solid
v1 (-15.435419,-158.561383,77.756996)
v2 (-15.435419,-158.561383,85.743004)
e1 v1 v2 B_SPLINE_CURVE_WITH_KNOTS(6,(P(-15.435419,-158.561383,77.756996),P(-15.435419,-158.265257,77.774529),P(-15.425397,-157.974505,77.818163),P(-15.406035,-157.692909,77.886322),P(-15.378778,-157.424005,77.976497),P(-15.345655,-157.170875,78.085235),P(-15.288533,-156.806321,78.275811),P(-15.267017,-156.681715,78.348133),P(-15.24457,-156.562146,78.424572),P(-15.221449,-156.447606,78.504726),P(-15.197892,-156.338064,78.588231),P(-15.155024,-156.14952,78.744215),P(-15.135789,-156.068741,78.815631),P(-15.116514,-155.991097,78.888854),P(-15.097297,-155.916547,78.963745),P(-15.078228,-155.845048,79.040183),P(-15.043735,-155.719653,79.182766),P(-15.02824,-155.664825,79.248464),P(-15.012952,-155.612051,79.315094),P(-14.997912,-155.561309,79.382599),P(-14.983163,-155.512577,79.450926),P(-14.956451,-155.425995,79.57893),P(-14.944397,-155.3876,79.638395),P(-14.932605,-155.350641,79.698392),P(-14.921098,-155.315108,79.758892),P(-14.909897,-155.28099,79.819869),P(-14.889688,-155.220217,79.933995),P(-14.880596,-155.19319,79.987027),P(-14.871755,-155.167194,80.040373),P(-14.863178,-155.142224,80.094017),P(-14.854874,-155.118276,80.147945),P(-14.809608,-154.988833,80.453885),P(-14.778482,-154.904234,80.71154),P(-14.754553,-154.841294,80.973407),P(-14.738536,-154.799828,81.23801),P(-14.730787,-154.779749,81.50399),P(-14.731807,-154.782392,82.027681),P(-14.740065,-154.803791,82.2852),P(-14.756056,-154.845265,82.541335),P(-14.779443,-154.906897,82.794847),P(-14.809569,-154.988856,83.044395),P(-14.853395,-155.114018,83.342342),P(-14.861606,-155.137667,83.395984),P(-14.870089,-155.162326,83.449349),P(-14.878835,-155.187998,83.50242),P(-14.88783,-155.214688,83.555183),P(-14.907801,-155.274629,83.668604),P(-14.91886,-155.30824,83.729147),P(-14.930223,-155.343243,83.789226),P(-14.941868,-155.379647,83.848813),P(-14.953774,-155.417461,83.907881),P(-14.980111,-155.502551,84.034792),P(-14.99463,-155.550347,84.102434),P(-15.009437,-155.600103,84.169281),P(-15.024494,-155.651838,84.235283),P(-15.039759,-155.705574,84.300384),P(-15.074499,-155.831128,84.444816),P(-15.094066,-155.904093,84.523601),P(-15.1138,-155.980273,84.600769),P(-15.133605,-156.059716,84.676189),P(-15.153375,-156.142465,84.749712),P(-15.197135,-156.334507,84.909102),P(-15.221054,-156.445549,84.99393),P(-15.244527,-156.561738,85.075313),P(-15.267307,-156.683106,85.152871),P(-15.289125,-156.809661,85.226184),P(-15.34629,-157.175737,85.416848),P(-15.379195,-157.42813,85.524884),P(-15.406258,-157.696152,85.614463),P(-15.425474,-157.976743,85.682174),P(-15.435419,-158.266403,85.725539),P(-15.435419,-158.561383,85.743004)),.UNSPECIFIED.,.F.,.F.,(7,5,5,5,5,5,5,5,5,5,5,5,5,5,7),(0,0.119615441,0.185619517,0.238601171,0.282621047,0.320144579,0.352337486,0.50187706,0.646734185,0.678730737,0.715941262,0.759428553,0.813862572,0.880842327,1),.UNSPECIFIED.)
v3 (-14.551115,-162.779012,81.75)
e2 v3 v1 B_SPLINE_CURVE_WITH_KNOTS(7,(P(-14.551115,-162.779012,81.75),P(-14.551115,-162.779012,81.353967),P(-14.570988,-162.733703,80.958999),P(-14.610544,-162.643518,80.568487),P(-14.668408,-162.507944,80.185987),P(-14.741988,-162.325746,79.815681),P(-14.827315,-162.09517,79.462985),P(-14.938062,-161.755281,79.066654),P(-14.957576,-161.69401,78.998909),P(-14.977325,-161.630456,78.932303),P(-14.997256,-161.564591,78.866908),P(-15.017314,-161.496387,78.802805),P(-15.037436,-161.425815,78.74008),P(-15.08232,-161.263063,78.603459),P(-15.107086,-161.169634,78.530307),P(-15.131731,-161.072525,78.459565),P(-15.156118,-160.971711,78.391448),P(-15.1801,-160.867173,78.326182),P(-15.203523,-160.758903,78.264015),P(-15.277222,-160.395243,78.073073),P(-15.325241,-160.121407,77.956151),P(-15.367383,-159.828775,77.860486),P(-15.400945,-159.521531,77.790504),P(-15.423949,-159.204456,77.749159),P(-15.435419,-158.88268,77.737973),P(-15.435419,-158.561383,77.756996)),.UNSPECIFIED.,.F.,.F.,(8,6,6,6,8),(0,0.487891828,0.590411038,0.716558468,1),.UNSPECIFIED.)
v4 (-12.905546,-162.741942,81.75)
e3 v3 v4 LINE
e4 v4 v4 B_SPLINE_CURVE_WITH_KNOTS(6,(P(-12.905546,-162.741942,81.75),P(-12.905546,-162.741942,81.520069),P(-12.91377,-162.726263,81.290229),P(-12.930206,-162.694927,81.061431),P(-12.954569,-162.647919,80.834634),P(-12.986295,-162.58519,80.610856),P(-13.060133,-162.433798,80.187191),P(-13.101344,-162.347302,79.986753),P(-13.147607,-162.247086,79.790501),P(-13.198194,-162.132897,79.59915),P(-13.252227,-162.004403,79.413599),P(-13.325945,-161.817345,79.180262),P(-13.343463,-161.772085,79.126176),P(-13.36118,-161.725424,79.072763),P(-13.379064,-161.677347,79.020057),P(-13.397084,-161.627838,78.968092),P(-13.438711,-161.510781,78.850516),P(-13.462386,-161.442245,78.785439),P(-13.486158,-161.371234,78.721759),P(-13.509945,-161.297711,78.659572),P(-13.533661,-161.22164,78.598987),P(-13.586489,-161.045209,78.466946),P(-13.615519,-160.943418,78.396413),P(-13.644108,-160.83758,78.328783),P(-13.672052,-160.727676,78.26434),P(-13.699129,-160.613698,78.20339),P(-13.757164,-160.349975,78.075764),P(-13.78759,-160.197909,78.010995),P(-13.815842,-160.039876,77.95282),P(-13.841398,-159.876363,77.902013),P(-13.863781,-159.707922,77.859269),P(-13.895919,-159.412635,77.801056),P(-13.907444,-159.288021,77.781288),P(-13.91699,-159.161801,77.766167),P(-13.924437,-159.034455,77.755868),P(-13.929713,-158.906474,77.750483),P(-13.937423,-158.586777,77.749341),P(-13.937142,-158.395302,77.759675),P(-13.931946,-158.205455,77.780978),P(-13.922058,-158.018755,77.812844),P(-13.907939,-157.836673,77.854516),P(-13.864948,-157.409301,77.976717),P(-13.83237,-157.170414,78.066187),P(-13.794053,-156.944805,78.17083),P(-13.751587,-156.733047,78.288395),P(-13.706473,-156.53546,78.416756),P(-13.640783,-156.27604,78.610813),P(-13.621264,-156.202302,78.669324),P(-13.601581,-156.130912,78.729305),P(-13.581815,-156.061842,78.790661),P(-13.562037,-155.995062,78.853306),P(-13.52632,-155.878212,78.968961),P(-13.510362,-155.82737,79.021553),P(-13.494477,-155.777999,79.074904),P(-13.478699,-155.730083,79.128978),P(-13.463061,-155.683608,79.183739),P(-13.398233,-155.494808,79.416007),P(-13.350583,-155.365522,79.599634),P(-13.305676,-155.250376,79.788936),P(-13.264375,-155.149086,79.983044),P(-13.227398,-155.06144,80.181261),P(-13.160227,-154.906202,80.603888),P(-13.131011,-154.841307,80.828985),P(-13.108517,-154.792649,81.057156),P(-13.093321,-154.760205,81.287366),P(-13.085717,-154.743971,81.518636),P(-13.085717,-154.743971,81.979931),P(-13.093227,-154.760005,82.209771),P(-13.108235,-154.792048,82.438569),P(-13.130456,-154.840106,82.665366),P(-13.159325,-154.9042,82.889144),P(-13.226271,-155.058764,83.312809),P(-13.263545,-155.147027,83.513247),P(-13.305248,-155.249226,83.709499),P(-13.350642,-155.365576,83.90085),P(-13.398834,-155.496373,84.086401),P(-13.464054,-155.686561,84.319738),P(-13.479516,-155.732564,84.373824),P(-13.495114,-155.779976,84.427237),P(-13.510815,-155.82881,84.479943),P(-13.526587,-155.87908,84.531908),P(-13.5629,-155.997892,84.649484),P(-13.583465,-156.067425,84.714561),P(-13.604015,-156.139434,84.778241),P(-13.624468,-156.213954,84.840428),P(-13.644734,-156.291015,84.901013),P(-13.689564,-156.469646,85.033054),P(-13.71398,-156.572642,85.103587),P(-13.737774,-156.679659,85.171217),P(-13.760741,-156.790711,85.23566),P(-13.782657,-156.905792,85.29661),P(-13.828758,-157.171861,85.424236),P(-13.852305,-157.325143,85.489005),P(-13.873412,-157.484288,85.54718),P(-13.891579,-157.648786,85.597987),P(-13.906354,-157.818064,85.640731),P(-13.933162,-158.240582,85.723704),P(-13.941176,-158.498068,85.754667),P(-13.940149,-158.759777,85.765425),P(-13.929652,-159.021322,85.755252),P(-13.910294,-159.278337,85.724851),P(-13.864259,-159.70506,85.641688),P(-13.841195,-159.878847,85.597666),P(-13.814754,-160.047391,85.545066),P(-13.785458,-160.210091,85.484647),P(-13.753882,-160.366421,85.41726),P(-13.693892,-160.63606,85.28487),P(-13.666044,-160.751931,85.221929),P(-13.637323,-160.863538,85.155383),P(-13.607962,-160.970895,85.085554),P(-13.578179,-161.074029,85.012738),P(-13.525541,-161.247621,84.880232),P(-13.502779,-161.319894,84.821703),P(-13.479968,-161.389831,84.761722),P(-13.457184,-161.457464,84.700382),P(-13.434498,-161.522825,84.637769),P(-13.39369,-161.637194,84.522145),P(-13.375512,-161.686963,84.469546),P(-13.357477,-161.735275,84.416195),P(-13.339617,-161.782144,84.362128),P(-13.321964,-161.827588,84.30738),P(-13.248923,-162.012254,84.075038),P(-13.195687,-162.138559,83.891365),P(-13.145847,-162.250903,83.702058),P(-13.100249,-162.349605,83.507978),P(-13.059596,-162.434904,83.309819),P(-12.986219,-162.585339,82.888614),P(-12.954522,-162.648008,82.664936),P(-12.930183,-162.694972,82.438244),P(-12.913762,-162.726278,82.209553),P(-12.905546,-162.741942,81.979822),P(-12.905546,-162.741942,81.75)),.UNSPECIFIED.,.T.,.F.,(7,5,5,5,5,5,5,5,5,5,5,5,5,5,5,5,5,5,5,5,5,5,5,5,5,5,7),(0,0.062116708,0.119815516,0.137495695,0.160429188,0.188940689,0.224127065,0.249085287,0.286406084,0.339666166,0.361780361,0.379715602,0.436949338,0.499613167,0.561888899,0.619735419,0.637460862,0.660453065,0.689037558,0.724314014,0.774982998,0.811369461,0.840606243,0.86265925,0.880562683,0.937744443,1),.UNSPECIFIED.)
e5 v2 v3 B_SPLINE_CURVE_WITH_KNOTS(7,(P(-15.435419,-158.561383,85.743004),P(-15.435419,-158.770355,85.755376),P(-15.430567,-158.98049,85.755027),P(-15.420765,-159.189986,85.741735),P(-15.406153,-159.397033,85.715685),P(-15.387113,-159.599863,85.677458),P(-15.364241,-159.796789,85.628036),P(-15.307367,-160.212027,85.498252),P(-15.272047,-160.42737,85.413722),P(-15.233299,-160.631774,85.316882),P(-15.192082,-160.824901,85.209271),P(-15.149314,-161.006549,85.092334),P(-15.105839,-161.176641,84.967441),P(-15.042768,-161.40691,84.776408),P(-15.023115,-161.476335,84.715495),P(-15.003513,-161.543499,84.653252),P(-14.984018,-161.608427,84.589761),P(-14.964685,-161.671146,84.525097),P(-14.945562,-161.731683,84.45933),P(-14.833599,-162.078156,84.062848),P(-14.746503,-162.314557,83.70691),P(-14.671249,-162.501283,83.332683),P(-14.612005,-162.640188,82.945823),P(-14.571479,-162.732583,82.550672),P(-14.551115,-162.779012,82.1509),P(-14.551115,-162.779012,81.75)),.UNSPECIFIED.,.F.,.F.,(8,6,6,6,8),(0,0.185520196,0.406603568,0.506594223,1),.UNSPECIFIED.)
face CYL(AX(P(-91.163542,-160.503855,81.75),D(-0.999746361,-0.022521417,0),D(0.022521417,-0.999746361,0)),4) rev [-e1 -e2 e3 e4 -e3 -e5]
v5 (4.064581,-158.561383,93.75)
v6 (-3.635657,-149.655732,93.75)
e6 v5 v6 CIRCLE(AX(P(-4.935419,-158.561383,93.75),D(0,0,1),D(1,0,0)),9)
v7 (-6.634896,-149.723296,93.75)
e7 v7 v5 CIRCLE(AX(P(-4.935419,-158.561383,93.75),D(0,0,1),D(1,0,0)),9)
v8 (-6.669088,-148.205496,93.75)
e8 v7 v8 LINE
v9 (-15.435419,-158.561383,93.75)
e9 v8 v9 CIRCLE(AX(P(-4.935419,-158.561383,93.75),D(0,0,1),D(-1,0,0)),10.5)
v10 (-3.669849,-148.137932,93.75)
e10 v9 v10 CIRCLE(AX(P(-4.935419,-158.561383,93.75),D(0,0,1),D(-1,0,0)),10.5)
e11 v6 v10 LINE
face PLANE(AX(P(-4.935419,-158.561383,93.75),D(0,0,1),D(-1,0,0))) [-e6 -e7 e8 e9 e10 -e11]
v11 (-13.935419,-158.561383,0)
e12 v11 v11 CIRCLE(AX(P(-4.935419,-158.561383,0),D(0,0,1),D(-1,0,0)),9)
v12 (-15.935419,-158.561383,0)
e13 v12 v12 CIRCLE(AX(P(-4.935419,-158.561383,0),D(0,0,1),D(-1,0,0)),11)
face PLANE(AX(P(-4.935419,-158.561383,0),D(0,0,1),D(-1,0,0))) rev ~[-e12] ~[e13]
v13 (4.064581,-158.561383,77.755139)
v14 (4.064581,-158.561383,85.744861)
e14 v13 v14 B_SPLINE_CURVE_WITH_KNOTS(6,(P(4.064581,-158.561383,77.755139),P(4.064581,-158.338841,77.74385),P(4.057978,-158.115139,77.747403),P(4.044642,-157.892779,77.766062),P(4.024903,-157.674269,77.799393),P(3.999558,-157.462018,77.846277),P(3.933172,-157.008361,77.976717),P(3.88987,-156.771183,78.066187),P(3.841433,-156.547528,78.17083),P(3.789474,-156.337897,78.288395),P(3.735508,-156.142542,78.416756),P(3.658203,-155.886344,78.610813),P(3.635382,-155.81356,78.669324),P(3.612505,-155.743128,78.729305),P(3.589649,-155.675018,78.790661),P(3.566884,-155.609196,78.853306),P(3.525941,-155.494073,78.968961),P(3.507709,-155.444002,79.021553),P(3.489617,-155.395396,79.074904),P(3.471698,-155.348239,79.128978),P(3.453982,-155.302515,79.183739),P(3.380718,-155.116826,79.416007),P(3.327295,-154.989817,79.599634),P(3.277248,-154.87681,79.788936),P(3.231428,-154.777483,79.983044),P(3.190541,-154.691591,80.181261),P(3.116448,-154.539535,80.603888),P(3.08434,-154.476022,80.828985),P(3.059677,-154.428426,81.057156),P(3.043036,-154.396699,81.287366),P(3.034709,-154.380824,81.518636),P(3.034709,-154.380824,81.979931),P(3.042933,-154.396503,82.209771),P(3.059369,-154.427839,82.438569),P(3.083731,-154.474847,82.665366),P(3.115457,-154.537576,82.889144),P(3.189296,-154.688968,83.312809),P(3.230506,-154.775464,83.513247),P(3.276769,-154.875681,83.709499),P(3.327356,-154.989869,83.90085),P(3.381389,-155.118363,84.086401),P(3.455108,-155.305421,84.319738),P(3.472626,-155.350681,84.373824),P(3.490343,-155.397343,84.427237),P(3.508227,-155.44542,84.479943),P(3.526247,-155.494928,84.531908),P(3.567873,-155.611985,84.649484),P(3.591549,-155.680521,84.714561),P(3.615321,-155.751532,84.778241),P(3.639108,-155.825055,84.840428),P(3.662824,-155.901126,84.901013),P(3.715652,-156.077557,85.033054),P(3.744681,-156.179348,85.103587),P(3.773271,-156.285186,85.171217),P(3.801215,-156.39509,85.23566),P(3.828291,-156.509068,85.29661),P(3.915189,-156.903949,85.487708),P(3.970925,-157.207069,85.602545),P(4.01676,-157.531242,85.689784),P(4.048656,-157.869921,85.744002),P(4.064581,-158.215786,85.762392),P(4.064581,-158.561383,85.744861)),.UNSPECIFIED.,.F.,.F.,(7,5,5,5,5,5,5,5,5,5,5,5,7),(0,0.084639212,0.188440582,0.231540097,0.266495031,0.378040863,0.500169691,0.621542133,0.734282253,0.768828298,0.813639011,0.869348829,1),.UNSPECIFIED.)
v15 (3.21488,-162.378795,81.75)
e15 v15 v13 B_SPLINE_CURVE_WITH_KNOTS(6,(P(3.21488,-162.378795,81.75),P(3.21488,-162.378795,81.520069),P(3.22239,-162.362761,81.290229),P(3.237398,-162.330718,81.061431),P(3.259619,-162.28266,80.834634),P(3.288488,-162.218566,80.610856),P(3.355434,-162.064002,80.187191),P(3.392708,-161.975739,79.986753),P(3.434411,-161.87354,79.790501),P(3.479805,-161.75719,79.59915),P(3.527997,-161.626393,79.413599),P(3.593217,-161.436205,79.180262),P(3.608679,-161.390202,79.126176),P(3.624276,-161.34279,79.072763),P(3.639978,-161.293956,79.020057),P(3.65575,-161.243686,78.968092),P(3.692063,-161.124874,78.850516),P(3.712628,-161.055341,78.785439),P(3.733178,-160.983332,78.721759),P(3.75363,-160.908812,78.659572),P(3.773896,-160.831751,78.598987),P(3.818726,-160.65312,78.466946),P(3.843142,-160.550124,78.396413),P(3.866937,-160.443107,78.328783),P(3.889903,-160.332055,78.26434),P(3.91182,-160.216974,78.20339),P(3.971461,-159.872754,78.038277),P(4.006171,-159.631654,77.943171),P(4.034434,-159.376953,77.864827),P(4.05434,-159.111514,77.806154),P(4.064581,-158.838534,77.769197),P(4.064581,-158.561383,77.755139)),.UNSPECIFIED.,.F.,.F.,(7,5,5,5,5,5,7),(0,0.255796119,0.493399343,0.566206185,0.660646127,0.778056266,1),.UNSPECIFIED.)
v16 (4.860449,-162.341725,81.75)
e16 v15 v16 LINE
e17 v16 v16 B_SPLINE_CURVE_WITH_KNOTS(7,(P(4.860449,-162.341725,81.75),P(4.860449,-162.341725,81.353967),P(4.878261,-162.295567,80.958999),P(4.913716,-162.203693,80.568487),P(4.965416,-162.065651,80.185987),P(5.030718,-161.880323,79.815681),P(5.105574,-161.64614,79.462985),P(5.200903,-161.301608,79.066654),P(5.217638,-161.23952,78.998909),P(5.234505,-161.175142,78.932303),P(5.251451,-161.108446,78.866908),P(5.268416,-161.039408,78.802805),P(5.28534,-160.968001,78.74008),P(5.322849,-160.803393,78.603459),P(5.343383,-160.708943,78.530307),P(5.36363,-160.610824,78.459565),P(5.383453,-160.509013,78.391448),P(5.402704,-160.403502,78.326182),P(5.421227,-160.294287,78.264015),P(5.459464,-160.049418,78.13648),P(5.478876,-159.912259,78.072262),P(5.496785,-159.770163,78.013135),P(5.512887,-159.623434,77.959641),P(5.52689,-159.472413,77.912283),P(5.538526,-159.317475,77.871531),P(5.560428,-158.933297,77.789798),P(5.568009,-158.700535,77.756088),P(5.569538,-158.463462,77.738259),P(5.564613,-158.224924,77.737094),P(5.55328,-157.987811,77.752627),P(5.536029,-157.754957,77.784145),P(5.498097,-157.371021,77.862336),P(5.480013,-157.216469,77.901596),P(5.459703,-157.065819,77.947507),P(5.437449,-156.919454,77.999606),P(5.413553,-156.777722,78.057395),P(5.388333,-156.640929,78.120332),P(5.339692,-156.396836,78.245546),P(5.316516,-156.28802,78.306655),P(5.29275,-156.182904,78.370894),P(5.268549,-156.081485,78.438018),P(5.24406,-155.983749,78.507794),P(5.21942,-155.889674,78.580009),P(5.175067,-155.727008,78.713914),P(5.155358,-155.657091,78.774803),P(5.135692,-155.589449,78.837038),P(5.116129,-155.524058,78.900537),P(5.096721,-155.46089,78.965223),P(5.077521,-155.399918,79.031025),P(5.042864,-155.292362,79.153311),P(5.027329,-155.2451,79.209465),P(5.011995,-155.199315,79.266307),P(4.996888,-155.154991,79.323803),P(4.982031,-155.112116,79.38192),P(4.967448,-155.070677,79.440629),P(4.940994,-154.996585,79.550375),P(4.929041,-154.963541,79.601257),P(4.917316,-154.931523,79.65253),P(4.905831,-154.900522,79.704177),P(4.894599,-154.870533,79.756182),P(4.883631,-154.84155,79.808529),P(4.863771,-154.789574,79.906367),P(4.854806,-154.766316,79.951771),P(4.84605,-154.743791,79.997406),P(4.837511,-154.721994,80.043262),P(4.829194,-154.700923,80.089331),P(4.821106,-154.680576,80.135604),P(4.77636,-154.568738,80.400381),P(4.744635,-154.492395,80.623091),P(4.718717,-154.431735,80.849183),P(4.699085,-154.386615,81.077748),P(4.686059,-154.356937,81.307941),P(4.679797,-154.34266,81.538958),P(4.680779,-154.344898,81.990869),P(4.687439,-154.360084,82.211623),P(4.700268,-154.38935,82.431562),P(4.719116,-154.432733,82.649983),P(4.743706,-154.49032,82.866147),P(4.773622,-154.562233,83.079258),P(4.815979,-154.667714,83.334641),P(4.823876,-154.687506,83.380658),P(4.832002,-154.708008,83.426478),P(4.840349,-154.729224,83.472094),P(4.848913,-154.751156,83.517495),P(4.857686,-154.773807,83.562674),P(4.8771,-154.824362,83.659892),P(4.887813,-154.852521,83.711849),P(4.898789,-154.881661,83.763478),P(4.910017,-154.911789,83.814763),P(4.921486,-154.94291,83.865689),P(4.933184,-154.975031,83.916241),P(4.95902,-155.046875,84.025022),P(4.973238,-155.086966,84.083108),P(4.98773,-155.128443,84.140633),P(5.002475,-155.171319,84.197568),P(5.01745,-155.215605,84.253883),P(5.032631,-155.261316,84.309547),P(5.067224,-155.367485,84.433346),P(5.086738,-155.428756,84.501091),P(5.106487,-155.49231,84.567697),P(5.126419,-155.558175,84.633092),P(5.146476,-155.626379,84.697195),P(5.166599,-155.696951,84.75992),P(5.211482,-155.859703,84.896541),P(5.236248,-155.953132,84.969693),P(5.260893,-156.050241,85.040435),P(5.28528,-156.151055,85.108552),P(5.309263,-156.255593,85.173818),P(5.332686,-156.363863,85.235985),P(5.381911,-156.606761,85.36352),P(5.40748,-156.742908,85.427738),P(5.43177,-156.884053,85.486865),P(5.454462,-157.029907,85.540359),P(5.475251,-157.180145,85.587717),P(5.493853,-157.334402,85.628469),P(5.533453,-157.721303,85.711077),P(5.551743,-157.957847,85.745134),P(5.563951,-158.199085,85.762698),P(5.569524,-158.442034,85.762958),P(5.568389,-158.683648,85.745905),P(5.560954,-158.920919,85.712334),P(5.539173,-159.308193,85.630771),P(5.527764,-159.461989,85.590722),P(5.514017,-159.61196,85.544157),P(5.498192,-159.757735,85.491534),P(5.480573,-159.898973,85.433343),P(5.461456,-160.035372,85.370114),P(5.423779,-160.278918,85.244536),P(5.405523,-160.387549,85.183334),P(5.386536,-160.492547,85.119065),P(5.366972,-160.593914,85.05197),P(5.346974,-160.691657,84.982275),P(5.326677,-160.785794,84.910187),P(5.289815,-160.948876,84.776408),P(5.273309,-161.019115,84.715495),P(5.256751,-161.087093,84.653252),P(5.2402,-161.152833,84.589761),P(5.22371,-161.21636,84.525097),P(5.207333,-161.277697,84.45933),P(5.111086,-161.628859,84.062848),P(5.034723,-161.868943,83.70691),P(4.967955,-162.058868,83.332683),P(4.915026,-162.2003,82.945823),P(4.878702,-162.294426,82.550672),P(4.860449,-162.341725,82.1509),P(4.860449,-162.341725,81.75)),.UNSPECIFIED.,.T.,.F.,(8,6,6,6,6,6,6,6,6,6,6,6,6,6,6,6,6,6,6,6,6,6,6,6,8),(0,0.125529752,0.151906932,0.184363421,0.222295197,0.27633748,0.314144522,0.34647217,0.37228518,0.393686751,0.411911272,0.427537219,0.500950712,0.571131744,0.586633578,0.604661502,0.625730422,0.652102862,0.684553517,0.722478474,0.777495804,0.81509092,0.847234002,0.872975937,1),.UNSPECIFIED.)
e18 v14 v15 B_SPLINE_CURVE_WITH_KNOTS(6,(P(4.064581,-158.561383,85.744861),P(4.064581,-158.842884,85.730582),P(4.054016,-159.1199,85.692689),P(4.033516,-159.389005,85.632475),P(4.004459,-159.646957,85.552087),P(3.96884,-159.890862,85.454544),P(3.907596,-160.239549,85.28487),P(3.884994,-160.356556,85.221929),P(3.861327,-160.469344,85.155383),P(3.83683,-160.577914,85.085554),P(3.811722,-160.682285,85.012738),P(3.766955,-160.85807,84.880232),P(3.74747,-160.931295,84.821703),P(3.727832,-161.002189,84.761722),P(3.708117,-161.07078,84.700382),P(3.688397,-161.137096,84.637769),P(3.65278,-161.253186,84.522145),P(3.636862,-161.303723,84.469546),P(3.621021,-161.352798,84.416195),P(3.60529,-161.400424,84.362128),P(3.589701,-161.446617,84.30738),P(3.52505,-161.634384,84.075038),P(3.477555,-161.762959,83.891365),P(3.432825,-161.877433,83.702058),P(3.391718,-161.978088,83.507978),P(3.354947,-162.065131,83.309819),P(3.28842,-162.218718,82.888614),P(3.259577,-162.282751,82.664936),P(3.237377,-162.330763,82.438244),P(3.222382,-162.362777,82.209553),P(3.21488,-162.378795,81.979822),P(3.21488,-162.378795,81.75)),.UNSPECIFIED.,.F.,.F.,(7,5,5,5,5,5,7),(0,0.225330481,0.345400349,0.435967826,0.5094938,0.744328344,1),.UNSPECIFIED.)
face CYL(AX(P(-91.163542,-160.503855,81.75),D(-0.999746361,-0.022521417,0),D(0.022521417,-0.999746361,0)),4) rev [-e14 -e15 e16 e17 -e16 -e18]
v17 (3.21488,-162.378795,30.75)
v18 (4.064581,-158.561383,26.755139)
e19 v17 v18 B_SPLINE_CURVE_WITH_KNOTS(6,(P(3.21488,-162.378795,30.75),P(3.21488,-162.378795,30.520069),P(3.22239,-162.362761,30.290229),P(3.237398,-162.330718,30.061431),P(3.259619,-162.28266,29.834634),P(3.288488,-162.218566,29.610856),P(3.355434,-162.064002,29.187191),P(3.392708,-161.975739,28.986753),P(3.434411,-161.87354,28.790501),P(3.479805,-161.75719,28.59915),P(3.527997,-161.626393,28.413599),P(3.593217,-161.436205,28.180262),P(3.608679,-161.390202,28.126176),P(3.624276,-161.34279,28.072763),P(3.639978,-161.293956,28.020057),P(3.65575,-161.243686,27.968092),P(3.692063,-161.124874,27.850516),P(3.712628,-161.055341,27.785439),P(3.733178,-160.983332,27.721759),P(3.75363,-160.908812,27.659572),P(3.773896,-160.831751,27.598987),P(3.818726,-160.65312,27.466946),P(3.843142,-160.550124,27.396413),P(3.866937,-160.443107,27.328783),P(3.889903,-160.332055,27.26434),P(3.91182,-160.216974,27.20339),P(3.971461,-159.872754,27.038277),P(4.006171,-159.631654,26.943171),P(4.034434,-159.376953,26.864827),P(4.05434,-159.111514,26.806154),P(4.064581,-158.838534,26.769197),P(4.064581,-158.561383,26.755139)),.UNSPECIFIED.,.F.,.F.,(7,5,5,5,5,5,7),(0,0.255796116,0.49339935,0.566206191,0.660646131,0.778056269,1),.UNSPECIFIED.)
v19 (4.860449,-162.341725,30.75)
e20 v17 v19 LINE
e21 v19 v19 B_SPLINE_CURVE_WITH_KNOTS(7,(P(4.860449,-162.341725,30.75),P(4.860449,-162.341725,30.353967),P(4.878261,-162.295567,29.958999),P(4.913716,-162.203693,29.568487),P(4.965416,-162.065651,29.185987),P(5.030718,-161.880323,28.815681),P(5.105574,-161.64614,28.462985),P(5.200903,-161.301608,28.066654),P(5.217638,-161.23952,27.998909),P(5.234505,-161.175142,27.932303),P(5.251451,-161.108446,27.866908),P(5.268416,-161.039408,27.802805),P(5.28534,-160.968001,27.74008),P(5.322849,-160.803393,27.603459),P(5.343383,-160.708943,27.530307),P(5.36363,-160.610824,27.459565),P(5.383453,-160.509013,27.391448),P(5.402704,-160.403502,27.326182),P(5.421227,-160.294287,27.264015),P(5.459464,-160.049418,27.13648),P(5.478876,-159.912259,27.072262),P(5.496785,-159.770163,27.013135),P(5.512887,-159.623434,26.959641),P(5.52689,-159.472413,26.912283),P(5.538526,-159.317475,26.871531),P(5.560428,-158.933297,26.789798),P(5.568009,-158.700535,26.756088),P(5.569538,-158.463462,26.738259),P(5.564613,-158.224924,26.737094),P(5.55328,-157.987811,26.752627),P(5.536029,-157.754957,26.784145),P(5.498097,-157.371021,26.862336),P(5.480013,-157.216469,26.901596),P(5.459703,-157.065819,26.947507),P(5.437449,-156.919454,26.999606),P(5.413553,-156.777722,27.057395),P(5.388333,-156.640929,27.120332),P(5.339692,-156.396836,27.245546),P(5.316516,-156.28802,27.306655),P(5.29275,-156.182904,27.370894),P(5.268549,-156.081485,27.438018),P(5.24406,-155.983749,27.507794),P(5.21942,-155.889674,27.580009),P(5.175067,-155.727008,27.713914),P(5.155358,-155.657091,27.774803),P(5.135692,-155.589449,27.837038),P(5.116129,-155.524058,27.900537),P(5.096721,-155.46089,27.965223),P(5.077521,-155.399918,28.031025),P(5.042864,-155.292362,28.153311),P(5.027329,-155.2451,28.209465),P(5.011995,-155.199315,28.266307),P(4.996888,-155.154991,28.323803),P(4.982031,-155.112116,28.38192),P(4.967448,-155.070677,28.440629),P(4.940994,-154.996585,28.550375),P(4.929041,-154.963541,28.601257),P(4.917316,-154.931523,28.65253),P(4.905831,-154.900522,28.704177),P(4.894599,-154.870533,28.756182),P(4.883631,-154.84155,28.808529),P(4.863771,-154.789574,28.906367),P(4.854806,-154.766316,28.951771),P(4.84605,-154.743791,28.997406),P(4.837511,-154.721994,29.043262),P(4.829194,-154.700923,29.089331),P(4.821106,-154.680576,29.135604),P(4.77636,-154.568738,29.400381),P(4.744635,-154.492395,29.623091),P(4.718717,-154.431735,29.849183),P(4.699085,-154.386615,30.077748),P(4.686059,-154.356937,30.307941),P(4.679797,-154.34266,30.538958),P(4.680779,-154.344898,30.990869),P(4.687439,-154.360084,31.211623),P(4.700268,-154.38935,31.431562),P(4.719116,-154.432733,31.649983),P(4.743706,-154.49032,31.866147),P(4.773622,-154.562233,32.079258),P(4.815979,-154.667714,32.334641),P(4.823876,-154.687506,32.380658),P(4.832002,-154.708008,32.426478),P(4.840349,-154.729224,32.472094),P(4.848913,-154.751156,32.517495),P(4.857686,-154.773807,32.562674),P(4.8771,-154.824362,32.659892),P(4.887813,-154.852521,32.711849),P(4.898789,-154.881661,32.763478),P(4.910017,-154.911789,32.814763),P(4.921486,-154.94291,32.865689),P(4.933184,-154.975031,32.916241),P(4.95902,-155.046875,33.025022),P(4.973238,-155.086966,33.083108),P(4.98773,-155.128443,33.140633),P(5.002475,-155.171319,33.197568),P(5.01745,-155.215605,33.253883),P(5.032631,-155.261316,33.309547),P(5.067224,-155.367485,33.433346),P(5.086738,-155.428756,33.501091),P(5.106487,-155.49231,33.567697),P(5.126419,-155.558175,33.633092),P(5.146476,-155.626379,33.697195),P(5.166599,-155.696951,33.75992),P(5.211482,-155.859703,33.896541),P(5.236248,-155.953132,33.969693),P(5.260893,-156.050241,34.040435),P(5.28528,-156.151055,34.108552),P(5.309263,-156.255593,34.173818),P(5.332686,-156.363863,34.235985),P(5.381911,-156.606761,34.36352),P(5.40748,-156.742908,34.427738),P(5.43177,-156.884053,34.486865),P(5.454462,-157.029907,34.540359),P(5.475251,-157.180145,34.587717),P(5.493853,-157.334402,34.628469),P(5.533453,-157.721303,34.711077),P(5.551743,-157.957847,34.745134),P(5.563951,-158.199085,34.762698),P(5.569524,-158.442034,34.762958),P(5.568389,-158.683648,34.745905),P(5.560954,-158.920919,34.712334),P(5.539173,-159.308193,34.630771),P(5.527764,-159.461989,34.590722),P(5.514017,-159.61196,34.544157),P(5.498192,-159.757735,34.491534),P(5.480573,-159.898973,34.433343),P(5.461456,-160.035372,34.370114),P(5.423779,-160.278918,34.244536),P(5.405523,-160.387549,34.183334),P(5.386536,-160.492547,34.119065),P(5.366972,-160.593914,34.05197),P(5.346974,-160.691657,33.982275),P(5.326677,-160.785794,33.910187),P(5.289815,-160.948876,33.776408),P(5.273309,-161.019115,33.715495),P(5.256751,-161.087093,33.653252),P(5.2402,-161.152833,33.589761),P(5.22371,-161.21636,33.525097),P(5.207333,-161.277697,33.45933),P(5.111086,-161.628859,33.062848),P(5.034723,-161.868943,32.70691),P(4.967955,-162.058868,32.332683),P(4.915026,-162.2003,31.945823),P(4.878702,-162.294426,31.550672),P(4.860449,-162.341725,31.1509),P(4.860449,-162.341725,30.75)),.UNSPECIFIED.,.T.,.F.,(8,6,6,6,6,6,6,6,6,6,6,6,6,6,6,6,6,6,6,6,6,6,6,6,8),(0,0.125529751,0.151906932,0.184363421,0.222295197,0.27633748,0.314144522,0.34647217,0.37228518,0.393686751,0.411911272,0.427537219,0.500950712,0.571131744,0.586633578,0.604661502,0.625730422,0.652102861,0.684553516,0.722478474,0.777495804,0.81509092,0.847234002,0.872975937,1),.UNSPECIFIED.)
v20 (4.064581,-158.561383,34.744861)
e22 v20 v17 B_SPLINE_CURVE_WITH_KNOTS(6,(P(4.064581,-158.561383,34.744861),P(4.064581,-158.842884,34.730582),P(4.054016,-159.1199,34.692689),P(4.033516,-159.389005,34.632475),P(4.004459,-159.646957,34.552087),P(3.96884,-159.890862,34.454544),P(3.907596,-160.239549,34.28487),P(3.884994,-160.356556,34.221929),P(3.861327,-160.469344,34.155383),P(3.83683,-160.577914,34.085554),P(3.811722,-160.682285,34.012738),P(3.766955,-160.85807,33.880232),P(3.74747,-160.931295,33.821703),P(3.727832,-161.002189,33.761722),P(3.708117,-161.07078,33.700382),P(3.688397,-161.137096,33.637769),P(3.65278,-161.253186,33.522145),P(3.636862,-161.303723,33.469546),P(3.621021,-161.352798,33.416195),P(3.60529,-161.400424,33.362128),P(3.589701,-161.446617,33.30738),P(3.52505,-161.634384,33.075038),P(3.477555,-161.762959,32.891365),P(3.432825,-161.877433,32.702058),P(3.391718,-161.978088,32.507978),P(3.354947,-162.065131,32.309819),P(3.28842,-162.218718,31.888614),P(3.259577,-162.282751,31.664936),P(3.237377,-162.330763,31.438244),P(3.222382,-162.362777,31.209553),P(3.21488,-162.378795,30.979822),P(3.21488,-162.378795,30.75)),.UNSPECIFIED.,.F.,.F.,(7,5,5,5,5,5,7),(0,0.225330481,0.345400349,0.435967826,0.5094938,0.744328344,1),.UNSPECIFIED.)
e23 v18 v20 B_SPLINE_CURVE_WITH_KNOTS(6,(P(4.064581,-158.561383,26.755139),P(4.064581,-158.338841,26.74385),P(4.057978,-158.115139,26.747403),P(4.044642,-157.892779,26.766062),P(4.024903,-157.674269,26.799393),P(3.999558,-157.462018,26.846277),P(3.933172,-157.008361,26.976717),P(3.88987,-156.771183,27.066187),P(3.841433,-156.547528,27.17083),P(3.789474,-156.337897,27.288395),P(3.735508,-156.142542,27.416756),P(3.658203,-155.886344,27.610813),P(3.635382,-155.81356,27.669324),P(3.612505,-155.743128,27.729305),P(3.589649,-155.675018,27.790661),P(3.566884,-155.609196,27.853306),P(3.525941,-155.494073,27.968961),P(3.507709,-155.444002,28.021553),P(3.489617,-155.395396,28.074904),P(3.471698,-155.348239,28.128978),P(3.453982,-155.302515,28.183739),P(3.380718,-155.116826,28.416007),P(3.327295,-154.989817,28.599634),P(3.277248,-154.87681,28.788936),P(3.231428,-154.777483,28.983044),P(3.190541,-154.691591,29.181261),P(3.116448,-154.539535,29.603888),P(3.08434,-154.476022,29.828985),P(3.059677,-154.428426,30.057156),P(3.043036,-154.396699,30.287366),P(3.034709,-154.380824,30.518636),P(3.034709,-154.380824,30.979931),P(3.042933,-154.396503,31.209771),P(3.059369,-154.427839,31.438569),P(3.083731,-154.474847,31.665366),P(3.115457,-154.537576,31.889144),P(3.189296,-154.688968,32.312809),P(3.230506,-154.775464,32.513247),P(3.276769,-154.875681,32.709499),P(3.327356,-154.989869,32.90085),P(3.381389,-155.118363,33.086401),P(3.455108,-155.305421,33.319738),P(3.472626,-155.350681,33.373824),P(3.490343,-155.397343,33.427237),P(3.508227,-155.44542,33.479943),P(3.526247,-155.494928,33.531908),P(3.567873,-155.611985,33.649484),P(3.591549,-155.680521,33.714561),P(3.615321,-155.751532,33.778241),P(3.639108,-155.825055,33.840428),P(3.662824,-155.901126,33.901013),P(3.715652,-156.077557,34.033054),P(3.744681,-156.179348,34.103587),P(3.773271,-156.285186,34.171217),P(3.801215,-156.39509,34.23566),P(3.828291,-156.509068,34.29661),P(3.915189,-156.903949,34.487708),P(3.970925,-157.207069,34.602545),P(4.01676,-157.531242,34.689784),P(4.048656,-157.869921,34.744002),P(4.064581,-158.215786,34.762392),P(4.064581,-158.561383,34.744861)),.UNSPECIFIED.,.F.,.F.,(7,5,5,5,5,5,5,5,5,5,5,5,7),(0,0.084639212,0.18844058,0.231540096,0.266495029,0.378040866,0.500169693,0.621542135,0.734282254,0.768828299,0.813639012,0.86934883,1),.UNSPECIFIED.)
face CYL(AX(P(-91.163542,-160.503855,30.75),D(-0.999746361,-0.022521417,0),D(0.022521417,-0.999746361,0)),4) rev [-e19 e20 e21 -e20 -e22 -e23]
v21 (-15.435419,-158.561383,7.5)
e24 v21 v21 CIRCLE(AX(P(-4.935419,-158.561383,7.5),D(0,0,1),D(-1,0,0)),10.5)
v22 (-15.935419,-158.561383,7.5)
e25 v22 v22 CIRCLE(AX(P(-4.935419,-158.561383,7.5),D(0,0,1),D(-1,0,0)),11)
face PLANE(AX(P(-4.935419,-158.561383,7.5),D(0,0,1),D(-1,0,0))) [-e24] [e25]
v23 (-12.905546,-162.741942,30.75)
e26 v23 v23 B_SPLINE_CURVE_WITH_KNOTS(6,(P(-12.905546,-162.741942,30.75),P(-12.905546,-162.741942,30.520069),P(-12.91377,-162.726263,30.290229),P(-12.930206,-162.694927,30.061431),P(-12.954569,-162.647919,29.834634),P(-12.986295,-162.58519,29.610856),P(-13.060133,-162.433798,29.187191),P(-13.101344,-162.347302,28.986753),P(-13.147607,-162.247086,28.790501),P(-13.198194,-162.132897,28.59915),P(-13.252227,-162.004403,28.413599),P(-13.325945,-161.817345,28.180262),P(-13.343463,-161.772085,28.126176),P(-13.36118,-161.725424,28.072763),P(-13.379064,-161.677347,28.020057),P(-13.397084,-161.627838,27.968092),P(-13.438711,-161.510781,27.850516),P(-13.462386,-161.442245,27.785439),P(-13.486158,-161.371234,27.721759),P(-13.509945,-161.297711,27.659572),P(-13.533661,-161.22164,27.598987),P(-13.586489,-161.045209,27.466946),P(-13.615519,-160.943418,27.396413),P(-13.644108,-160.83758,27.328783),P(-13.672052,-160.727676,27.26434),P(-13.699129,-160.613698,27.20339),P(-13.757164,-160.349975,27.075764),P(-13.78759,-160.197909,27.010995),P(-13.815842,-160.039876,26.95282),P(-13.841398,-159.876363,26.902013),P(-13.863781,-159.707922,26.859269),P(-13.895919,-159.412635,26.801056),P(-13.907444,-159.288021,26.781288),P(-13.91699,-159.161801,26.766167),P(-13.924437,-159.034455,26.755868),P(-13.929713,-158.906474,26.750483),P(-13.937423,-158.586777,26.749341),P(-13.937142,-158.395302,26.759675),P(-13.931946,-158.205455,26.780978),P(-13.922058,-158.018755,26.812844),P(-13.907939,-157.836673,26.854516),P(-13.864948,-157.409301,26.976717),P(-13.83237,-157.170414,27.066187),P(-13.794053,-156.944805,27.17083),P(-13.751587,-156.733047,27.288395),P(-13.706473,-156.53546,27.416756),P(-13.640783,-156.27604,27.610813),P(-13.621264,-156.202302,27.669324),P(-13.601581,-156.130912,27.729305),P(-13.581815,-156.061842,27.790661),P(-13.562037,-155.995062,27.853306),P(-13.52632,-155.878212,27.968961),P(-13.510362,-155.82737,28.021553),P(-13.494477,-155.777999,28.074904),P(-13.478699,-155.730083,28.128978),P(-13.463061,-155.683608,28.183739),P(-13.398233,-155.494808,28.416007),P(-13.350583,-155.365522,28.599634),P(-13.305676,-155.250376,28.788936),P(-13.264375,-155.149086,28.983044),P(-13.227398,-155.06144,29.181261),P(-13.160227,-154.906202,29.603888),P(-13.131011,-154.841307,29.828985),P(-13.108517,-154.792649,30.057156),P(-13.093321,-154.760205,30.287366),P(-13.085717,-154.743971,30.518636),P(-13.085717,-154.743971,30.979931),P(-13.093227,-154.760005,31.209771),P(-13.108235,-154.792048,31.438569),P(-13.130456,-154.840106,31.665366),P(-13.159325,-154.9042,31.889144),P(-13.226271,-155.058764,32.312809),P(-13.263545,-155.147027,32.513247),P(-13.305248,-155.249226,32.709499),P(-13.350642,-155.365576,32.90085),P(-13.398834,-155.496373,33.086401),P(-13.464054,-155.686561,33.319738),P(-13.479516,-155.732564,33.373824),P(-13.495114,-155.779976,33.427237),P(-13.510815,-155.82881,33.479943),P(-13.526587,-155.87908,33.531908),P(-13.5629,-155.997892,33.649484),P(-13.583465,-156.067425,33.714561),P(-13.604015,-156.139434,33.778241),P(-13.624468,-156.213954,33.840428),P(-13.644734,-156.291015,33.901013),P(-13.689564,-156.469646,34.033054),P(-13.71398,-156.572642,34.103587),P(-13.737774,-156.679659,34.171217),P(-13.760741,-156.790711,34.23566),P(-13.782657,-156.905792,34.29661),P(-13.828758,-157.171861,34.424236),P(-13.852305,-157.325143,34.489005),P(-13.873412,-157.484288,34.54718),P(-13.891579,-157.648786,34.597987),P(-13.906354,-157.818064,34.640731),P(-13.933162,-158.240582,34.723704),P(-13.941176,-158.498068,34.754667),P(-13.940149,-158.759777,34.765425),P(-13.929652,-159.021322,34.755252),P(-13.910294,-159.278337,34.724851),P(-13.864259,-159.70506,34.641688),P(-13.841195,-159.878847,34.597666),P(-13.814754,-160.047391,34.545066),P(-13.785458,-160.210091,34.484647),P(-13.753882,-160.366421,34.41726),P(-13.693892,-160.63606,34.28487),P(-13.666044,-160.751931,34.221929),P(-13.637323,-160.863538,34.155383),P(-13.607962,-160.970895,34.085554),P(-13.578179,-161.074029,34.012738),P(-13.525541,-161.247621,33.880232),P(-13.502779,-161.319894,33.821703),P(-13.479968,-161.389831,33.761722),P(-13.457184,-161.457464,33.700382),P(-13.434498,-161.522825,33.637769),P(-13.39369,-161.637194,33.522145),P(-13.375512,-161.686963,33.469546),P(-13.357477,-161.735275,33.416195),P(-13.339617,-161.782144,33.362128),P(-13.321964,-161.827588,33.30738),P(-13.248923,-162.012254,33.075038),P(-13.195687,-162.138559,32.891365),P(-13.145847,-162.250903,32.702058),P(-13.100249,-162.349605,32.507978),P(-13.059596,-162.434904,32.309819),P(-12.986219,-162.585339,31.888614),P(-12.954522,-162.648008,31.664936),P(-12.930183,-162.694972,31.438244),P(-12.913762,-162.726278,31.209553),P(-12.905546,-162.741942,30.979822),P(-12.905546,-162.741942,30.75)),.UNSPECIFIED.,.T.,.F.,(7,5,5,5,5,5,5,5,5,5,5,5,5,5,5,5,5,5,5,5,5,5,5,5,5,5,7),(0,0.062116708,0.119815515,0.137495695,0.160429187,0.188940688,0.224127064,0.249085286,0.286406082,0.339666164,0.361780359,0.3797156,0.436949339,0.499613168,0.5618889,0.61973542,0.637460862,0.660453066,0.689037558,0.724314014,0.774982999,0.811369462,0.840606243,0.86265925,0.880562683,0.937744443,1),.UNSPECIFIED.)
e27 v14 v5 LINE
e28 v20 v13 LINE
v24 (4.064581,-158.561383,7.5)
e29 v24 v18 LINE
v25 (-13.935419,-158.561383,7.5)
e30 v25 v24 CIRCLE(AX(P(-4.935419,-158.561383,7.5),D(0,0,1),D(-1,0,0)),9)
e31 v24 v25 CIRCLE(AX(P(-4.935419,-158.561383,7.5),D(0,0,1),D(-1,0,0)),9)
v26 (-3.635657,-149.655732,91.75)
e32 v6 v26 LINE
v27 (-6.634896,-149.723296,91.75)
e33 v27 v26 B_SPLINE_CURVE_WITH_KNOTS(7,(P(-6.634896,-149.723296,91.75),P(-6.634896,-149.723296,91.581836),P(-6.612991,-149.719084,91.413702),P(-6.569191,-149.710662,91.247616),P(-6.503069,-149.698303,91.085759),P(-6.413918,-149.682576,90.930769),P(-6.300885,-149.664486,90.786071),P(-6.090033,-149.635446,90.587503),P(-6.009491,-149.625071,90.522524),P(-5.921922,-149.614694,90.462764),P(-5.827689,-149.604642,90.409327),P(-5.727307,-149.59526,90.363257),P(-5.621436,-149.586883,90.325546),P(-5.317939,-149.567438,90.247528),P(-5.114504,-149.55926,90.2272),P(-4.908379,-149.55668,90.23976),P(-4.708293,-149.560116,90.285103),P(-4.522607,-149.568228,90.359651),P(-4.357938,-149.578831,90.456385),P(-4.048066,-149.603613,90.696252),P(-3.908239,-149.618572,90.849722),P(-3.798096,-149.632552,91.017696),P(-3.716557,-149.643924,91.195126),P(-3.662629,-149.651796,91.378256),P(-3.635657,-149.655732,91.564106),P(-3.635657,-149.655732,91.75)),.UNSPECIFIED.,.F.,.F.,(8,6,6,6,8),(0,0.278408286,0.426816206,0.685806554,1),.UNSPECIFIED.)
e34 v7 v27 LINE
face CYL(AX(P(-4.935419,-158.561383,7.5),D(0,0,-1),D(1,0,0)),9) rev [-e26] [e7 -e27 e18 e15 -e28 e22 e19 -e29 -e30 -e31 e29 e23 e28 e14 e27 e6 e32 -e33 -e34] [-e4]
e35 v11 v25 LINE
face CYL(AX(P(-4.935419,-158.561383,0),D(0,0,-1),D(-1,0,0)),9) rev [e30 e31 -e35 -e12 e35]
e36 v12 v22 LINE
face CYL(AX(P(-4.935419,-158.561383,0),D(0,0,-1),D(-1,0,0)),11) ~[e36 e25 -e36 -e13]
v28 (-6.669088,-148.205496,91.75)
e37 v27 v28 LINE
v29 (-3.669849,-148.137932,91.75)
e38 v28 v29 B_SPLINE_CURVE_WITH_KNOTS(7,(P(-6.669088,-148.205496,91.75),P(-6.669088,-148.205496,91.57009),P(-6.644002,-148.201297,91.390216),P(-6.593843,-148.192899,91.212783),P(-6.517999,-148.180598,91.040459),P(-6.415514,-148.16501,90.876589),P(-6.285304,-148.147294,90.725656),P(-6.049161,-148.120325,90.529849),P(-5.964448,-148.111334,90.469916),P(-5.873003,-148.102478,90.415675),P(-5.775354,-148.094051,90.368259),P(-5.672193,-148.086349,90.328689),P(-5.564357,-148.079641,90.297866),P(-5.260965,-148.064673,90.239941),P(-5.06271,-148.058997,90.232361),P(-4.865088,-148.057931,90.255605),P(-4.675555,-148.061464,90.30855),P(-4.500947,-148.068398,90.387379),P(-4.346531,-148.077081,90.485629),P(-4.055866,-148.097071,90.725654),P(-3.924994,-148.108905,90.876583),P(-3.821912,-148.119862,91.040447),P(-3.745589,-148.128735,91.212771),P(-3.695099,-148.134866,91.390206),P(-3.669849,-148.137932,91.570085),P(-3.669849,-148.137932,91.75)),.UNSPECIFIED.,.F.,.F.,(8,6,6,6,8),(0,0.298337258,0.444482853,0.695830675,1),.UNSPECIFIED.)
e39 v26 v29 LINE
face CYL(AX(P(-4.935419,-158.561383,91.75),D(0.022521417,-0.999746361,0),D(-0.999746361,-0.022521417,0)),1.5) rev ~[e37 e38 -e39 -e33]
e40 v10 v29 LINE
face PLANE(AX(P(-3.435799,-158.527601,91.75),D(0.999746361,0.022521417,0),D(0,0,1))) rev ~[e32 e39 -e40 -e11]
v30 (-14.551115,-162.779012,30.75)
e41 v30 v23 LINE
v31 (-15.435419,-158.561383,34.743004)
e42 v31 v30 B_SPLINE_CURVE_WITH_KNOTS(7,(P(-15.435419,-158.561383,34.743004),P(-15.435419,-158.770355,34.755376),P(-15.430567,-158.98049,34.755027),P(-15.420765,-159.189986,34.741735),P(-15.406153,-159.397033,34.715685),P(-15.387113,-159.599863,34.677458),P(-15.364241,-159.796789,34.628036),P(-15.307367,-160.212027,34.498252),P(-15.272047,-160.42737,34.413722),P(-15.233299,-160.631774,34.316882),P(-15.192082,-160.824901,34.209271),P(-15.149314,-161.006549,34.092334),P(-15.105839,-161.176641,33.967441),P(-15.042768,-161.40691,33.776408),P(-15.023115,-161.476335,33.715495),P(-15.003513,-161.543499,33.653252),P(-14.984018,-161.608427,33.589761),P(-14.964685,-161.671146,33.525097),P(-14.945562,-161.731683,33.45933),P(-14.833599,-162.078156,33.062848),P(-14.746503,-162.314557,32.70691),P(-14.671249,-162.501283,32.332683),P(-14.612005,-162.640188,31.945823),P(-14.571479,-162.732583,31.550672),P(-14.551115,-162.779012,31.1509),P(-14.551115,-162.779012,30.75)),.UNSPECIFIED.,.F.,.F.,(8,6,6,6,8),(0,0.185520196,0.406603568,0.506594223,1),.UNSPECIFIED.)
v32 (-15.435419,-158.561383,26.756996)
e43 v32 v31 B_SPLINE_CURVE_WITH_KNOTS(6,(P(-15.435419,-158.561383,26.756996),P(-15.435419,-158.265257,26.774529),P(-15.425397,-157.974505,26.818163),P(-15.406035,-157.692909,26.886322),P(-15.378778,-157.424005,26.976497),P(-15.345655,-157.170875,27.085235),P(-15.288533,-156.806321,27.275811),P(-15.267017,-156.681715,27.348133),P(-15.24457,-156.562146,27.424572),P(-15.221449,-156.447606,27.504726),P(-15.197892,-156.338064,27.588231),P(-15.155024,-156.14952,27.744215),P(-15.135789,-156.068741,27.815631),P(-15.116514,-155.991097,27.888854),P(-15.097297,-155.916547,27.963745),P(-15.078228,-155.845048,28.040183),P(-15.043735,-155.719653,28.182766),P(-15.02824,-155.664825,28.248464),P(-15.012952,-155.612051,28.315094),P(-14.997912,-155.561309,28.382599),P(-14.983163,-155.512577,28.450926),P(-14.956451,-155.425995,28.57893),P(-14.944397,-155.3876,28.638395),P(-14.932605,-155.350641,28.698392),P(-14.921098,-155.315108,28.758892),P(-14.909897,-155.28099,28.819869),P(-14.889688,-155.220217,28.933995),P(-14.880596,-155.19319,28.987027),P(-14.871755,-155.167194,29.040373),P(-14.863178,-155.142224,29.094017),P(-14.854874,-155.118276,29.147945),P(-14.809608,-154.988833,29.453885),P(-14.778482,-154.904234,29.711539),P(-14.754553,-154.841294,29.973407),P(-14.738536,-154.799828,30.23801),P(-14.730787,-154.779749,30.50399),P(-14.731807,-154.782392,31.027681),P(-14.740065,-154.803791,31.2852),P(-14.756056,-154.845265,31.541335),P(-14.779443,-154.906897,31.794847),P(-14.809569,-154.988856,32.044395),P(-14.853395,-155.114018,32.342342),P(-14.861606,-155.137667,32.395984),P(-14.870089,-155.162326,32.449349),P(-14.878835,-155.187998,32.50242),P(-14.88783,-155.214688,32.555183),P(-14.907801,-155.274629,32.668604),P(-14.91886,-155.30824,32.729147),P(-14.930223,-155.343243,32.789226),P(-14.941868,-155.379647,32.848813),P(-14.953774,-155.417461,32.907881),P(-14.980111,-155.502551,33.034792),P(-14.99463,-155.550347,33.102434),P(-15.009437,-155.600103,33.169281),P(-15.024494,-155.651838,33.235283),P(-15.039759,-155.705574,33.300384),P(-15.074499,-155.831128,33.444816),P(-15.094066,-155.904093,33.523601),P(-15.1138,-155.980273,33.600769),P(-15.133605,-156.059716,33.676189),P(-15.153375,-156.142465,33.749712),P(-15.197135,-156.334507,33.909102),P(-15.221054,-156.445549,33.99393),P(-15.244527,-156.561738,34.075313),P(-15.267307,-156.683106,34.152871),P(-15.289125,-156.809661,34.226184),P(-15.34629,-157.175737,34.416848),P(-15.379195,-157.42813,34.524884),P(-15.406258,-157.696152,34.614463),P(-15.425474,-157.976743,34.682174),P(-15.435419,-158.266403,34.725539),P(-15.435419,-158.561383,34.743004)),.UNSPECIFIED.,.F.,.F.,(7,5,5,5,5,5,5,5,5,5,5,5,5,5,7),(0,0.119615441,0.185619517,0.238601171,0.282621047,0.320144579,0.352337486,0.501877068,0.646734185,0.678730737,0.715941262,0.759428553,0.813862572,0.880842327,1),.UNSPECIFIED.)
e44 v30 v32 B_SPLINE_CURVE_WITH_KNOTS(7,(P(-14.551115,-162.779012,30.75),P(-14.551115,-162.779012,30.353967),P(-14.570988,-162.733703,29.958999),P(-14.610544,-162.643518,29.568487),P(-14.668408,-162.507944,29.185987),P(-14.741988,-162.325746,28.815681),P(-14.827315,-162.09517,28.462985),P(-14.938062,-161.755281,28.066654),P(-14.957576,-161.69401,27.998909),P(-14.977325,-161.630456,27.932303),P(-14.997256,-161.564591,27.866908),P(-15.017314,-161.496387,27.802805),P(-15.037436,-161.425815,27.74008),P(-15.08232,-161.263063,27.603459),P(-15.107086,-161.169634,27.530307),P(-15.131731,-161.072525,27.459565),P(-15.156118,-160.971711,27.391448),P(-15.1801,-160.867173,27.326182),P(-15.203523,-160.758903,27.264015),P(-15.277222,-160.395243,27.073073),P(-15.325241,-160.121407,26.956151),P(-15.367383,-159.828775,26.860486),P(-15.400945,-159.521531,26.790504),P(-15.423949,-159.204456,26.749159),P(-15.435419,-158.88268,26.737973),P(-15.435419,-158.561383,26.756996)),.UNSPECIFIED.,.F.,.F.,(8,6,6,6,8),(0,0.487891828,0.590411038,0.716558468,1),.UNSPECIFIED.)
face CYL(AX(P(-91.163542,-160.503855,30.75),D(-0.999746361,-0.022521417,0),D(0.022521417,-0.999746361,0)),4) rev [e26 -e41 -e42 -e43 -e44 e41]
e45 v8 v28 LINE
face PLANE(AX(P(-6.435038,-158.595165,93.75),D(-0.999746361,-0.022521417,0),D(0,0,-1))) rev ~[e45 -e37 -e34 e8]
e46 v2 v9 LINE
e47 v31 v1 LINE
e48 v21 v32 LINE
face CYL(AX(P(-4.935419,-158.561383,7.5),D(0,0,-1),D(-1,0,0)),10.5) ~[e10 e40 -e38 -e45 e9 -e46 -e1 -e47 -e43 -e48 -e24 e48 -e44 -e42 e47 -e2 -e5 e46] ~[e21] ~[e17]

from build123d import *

# Parameters (mm, degrees)
SKETCH_1_R               = 11
SKETCH_1_R_2             = 9
EXTRUDE_1_DEPTH          = 7.5
SKETCH_3_R               = 10.5
SKETCH_3_R_2             = 9
EXTRUDE_2_DEPTH          = 86.25
CUT_EXTRUDE_1_DEPTH      = 86.25
CUT_EXTRUDE_1_DEPTH_BACK = 86.25
SKETCH_4_R               = 4
CUT_EXTRUDE_2_DEPTH      = 35.25


with BuildPart() as part:
    # 草图1 → 凸台-拉伸1 (new body)
    with BuildSketch(Plane.XY):
        with Locations(Location((-4.935418671, -158.561383044, 0), (0, 0, 180))):
            Circle(SKETCH_1_R)
        with Locations(Location((-4.935418671, -158.561383044, 0), (0, 0, 180))):
            Circle(SKETCH_1_R_2, mode=Mode.SUBTRACT)
    extrude(amount=EXTRUDE_1_DEPTH)

    # 草图3 → 凸台-拉伸2 (add)
    with BuildSketch(Plane.XY.offset(7.5)):
        with Locations(Location((-4.935418671, -158.561383044, 0), (0, 0, 180))):
            Circle(SKETCH_3_R)
        with Locations((-4.935418671, -158.561383044)):
            Circle(SKETCH_3_R_2, mode=Mode.SUBTRACT)
    extrude(amount=EXTRUDE_2_DEPTH)

    # 草图4 → 切除-拉伸1 (cut, two sides: drawn at the far end of the back side and taken through both)
    with BuildSketch(Plane(origin=(-8.503036589, -0.191549015, 0), x_dir=(0, 0, -1), z_dir=(0.9997463607277357, 0.022521416732707692, -5.695444116327053e-14)).offset(-CUT_EXTRUDE_1_DEPTH_BACK)):
        with Locations(Location((-81.75, -158.41001303, 0), (0, 0, 270))):
            Circle(SKETCH_4_R)
        with Locations(Location((-30.75, -158.41001303, 0), (0, 0, 270))):
            Circle(SKETCH_4_R)
    extrude(amount=CUT_EXTRUDE_1_DEPTH + CUT_EXTRUDE_1_DEPTH_BACK, mode=Mode.SUBTRACT)

    # 草图5 → 切除-拉伸2 (cut)
    with BuildSketch(Plane(origin=(3.567617918, -158.369834029, 0), x_dir=(0.9997463607277357, 0.022521416732707685, 0), z_dir=(-0.022521416732707685, 0.9997463607277357, 0))):
        with BuildLine():
            Line((-10.00519384, -93.75), (-10.00519384, -91.75))
            ThreePointArc((-10.00519384, -91.75), (-8.50519384, -90.25), (-7.00519384, -91.75))
            Line((-7.00519384, -91.75), (-7.00519384, -93.75))
            ThreePointArc((-7.00519384, -93.75), (-8.50519384, -95.25), (-10.00519384, -93.75))
        make_face()
    extrude(amount=CUT_EXTRUDE_2_DEPTH, mode=Mode.SUBTRACT)


solid = part.part
